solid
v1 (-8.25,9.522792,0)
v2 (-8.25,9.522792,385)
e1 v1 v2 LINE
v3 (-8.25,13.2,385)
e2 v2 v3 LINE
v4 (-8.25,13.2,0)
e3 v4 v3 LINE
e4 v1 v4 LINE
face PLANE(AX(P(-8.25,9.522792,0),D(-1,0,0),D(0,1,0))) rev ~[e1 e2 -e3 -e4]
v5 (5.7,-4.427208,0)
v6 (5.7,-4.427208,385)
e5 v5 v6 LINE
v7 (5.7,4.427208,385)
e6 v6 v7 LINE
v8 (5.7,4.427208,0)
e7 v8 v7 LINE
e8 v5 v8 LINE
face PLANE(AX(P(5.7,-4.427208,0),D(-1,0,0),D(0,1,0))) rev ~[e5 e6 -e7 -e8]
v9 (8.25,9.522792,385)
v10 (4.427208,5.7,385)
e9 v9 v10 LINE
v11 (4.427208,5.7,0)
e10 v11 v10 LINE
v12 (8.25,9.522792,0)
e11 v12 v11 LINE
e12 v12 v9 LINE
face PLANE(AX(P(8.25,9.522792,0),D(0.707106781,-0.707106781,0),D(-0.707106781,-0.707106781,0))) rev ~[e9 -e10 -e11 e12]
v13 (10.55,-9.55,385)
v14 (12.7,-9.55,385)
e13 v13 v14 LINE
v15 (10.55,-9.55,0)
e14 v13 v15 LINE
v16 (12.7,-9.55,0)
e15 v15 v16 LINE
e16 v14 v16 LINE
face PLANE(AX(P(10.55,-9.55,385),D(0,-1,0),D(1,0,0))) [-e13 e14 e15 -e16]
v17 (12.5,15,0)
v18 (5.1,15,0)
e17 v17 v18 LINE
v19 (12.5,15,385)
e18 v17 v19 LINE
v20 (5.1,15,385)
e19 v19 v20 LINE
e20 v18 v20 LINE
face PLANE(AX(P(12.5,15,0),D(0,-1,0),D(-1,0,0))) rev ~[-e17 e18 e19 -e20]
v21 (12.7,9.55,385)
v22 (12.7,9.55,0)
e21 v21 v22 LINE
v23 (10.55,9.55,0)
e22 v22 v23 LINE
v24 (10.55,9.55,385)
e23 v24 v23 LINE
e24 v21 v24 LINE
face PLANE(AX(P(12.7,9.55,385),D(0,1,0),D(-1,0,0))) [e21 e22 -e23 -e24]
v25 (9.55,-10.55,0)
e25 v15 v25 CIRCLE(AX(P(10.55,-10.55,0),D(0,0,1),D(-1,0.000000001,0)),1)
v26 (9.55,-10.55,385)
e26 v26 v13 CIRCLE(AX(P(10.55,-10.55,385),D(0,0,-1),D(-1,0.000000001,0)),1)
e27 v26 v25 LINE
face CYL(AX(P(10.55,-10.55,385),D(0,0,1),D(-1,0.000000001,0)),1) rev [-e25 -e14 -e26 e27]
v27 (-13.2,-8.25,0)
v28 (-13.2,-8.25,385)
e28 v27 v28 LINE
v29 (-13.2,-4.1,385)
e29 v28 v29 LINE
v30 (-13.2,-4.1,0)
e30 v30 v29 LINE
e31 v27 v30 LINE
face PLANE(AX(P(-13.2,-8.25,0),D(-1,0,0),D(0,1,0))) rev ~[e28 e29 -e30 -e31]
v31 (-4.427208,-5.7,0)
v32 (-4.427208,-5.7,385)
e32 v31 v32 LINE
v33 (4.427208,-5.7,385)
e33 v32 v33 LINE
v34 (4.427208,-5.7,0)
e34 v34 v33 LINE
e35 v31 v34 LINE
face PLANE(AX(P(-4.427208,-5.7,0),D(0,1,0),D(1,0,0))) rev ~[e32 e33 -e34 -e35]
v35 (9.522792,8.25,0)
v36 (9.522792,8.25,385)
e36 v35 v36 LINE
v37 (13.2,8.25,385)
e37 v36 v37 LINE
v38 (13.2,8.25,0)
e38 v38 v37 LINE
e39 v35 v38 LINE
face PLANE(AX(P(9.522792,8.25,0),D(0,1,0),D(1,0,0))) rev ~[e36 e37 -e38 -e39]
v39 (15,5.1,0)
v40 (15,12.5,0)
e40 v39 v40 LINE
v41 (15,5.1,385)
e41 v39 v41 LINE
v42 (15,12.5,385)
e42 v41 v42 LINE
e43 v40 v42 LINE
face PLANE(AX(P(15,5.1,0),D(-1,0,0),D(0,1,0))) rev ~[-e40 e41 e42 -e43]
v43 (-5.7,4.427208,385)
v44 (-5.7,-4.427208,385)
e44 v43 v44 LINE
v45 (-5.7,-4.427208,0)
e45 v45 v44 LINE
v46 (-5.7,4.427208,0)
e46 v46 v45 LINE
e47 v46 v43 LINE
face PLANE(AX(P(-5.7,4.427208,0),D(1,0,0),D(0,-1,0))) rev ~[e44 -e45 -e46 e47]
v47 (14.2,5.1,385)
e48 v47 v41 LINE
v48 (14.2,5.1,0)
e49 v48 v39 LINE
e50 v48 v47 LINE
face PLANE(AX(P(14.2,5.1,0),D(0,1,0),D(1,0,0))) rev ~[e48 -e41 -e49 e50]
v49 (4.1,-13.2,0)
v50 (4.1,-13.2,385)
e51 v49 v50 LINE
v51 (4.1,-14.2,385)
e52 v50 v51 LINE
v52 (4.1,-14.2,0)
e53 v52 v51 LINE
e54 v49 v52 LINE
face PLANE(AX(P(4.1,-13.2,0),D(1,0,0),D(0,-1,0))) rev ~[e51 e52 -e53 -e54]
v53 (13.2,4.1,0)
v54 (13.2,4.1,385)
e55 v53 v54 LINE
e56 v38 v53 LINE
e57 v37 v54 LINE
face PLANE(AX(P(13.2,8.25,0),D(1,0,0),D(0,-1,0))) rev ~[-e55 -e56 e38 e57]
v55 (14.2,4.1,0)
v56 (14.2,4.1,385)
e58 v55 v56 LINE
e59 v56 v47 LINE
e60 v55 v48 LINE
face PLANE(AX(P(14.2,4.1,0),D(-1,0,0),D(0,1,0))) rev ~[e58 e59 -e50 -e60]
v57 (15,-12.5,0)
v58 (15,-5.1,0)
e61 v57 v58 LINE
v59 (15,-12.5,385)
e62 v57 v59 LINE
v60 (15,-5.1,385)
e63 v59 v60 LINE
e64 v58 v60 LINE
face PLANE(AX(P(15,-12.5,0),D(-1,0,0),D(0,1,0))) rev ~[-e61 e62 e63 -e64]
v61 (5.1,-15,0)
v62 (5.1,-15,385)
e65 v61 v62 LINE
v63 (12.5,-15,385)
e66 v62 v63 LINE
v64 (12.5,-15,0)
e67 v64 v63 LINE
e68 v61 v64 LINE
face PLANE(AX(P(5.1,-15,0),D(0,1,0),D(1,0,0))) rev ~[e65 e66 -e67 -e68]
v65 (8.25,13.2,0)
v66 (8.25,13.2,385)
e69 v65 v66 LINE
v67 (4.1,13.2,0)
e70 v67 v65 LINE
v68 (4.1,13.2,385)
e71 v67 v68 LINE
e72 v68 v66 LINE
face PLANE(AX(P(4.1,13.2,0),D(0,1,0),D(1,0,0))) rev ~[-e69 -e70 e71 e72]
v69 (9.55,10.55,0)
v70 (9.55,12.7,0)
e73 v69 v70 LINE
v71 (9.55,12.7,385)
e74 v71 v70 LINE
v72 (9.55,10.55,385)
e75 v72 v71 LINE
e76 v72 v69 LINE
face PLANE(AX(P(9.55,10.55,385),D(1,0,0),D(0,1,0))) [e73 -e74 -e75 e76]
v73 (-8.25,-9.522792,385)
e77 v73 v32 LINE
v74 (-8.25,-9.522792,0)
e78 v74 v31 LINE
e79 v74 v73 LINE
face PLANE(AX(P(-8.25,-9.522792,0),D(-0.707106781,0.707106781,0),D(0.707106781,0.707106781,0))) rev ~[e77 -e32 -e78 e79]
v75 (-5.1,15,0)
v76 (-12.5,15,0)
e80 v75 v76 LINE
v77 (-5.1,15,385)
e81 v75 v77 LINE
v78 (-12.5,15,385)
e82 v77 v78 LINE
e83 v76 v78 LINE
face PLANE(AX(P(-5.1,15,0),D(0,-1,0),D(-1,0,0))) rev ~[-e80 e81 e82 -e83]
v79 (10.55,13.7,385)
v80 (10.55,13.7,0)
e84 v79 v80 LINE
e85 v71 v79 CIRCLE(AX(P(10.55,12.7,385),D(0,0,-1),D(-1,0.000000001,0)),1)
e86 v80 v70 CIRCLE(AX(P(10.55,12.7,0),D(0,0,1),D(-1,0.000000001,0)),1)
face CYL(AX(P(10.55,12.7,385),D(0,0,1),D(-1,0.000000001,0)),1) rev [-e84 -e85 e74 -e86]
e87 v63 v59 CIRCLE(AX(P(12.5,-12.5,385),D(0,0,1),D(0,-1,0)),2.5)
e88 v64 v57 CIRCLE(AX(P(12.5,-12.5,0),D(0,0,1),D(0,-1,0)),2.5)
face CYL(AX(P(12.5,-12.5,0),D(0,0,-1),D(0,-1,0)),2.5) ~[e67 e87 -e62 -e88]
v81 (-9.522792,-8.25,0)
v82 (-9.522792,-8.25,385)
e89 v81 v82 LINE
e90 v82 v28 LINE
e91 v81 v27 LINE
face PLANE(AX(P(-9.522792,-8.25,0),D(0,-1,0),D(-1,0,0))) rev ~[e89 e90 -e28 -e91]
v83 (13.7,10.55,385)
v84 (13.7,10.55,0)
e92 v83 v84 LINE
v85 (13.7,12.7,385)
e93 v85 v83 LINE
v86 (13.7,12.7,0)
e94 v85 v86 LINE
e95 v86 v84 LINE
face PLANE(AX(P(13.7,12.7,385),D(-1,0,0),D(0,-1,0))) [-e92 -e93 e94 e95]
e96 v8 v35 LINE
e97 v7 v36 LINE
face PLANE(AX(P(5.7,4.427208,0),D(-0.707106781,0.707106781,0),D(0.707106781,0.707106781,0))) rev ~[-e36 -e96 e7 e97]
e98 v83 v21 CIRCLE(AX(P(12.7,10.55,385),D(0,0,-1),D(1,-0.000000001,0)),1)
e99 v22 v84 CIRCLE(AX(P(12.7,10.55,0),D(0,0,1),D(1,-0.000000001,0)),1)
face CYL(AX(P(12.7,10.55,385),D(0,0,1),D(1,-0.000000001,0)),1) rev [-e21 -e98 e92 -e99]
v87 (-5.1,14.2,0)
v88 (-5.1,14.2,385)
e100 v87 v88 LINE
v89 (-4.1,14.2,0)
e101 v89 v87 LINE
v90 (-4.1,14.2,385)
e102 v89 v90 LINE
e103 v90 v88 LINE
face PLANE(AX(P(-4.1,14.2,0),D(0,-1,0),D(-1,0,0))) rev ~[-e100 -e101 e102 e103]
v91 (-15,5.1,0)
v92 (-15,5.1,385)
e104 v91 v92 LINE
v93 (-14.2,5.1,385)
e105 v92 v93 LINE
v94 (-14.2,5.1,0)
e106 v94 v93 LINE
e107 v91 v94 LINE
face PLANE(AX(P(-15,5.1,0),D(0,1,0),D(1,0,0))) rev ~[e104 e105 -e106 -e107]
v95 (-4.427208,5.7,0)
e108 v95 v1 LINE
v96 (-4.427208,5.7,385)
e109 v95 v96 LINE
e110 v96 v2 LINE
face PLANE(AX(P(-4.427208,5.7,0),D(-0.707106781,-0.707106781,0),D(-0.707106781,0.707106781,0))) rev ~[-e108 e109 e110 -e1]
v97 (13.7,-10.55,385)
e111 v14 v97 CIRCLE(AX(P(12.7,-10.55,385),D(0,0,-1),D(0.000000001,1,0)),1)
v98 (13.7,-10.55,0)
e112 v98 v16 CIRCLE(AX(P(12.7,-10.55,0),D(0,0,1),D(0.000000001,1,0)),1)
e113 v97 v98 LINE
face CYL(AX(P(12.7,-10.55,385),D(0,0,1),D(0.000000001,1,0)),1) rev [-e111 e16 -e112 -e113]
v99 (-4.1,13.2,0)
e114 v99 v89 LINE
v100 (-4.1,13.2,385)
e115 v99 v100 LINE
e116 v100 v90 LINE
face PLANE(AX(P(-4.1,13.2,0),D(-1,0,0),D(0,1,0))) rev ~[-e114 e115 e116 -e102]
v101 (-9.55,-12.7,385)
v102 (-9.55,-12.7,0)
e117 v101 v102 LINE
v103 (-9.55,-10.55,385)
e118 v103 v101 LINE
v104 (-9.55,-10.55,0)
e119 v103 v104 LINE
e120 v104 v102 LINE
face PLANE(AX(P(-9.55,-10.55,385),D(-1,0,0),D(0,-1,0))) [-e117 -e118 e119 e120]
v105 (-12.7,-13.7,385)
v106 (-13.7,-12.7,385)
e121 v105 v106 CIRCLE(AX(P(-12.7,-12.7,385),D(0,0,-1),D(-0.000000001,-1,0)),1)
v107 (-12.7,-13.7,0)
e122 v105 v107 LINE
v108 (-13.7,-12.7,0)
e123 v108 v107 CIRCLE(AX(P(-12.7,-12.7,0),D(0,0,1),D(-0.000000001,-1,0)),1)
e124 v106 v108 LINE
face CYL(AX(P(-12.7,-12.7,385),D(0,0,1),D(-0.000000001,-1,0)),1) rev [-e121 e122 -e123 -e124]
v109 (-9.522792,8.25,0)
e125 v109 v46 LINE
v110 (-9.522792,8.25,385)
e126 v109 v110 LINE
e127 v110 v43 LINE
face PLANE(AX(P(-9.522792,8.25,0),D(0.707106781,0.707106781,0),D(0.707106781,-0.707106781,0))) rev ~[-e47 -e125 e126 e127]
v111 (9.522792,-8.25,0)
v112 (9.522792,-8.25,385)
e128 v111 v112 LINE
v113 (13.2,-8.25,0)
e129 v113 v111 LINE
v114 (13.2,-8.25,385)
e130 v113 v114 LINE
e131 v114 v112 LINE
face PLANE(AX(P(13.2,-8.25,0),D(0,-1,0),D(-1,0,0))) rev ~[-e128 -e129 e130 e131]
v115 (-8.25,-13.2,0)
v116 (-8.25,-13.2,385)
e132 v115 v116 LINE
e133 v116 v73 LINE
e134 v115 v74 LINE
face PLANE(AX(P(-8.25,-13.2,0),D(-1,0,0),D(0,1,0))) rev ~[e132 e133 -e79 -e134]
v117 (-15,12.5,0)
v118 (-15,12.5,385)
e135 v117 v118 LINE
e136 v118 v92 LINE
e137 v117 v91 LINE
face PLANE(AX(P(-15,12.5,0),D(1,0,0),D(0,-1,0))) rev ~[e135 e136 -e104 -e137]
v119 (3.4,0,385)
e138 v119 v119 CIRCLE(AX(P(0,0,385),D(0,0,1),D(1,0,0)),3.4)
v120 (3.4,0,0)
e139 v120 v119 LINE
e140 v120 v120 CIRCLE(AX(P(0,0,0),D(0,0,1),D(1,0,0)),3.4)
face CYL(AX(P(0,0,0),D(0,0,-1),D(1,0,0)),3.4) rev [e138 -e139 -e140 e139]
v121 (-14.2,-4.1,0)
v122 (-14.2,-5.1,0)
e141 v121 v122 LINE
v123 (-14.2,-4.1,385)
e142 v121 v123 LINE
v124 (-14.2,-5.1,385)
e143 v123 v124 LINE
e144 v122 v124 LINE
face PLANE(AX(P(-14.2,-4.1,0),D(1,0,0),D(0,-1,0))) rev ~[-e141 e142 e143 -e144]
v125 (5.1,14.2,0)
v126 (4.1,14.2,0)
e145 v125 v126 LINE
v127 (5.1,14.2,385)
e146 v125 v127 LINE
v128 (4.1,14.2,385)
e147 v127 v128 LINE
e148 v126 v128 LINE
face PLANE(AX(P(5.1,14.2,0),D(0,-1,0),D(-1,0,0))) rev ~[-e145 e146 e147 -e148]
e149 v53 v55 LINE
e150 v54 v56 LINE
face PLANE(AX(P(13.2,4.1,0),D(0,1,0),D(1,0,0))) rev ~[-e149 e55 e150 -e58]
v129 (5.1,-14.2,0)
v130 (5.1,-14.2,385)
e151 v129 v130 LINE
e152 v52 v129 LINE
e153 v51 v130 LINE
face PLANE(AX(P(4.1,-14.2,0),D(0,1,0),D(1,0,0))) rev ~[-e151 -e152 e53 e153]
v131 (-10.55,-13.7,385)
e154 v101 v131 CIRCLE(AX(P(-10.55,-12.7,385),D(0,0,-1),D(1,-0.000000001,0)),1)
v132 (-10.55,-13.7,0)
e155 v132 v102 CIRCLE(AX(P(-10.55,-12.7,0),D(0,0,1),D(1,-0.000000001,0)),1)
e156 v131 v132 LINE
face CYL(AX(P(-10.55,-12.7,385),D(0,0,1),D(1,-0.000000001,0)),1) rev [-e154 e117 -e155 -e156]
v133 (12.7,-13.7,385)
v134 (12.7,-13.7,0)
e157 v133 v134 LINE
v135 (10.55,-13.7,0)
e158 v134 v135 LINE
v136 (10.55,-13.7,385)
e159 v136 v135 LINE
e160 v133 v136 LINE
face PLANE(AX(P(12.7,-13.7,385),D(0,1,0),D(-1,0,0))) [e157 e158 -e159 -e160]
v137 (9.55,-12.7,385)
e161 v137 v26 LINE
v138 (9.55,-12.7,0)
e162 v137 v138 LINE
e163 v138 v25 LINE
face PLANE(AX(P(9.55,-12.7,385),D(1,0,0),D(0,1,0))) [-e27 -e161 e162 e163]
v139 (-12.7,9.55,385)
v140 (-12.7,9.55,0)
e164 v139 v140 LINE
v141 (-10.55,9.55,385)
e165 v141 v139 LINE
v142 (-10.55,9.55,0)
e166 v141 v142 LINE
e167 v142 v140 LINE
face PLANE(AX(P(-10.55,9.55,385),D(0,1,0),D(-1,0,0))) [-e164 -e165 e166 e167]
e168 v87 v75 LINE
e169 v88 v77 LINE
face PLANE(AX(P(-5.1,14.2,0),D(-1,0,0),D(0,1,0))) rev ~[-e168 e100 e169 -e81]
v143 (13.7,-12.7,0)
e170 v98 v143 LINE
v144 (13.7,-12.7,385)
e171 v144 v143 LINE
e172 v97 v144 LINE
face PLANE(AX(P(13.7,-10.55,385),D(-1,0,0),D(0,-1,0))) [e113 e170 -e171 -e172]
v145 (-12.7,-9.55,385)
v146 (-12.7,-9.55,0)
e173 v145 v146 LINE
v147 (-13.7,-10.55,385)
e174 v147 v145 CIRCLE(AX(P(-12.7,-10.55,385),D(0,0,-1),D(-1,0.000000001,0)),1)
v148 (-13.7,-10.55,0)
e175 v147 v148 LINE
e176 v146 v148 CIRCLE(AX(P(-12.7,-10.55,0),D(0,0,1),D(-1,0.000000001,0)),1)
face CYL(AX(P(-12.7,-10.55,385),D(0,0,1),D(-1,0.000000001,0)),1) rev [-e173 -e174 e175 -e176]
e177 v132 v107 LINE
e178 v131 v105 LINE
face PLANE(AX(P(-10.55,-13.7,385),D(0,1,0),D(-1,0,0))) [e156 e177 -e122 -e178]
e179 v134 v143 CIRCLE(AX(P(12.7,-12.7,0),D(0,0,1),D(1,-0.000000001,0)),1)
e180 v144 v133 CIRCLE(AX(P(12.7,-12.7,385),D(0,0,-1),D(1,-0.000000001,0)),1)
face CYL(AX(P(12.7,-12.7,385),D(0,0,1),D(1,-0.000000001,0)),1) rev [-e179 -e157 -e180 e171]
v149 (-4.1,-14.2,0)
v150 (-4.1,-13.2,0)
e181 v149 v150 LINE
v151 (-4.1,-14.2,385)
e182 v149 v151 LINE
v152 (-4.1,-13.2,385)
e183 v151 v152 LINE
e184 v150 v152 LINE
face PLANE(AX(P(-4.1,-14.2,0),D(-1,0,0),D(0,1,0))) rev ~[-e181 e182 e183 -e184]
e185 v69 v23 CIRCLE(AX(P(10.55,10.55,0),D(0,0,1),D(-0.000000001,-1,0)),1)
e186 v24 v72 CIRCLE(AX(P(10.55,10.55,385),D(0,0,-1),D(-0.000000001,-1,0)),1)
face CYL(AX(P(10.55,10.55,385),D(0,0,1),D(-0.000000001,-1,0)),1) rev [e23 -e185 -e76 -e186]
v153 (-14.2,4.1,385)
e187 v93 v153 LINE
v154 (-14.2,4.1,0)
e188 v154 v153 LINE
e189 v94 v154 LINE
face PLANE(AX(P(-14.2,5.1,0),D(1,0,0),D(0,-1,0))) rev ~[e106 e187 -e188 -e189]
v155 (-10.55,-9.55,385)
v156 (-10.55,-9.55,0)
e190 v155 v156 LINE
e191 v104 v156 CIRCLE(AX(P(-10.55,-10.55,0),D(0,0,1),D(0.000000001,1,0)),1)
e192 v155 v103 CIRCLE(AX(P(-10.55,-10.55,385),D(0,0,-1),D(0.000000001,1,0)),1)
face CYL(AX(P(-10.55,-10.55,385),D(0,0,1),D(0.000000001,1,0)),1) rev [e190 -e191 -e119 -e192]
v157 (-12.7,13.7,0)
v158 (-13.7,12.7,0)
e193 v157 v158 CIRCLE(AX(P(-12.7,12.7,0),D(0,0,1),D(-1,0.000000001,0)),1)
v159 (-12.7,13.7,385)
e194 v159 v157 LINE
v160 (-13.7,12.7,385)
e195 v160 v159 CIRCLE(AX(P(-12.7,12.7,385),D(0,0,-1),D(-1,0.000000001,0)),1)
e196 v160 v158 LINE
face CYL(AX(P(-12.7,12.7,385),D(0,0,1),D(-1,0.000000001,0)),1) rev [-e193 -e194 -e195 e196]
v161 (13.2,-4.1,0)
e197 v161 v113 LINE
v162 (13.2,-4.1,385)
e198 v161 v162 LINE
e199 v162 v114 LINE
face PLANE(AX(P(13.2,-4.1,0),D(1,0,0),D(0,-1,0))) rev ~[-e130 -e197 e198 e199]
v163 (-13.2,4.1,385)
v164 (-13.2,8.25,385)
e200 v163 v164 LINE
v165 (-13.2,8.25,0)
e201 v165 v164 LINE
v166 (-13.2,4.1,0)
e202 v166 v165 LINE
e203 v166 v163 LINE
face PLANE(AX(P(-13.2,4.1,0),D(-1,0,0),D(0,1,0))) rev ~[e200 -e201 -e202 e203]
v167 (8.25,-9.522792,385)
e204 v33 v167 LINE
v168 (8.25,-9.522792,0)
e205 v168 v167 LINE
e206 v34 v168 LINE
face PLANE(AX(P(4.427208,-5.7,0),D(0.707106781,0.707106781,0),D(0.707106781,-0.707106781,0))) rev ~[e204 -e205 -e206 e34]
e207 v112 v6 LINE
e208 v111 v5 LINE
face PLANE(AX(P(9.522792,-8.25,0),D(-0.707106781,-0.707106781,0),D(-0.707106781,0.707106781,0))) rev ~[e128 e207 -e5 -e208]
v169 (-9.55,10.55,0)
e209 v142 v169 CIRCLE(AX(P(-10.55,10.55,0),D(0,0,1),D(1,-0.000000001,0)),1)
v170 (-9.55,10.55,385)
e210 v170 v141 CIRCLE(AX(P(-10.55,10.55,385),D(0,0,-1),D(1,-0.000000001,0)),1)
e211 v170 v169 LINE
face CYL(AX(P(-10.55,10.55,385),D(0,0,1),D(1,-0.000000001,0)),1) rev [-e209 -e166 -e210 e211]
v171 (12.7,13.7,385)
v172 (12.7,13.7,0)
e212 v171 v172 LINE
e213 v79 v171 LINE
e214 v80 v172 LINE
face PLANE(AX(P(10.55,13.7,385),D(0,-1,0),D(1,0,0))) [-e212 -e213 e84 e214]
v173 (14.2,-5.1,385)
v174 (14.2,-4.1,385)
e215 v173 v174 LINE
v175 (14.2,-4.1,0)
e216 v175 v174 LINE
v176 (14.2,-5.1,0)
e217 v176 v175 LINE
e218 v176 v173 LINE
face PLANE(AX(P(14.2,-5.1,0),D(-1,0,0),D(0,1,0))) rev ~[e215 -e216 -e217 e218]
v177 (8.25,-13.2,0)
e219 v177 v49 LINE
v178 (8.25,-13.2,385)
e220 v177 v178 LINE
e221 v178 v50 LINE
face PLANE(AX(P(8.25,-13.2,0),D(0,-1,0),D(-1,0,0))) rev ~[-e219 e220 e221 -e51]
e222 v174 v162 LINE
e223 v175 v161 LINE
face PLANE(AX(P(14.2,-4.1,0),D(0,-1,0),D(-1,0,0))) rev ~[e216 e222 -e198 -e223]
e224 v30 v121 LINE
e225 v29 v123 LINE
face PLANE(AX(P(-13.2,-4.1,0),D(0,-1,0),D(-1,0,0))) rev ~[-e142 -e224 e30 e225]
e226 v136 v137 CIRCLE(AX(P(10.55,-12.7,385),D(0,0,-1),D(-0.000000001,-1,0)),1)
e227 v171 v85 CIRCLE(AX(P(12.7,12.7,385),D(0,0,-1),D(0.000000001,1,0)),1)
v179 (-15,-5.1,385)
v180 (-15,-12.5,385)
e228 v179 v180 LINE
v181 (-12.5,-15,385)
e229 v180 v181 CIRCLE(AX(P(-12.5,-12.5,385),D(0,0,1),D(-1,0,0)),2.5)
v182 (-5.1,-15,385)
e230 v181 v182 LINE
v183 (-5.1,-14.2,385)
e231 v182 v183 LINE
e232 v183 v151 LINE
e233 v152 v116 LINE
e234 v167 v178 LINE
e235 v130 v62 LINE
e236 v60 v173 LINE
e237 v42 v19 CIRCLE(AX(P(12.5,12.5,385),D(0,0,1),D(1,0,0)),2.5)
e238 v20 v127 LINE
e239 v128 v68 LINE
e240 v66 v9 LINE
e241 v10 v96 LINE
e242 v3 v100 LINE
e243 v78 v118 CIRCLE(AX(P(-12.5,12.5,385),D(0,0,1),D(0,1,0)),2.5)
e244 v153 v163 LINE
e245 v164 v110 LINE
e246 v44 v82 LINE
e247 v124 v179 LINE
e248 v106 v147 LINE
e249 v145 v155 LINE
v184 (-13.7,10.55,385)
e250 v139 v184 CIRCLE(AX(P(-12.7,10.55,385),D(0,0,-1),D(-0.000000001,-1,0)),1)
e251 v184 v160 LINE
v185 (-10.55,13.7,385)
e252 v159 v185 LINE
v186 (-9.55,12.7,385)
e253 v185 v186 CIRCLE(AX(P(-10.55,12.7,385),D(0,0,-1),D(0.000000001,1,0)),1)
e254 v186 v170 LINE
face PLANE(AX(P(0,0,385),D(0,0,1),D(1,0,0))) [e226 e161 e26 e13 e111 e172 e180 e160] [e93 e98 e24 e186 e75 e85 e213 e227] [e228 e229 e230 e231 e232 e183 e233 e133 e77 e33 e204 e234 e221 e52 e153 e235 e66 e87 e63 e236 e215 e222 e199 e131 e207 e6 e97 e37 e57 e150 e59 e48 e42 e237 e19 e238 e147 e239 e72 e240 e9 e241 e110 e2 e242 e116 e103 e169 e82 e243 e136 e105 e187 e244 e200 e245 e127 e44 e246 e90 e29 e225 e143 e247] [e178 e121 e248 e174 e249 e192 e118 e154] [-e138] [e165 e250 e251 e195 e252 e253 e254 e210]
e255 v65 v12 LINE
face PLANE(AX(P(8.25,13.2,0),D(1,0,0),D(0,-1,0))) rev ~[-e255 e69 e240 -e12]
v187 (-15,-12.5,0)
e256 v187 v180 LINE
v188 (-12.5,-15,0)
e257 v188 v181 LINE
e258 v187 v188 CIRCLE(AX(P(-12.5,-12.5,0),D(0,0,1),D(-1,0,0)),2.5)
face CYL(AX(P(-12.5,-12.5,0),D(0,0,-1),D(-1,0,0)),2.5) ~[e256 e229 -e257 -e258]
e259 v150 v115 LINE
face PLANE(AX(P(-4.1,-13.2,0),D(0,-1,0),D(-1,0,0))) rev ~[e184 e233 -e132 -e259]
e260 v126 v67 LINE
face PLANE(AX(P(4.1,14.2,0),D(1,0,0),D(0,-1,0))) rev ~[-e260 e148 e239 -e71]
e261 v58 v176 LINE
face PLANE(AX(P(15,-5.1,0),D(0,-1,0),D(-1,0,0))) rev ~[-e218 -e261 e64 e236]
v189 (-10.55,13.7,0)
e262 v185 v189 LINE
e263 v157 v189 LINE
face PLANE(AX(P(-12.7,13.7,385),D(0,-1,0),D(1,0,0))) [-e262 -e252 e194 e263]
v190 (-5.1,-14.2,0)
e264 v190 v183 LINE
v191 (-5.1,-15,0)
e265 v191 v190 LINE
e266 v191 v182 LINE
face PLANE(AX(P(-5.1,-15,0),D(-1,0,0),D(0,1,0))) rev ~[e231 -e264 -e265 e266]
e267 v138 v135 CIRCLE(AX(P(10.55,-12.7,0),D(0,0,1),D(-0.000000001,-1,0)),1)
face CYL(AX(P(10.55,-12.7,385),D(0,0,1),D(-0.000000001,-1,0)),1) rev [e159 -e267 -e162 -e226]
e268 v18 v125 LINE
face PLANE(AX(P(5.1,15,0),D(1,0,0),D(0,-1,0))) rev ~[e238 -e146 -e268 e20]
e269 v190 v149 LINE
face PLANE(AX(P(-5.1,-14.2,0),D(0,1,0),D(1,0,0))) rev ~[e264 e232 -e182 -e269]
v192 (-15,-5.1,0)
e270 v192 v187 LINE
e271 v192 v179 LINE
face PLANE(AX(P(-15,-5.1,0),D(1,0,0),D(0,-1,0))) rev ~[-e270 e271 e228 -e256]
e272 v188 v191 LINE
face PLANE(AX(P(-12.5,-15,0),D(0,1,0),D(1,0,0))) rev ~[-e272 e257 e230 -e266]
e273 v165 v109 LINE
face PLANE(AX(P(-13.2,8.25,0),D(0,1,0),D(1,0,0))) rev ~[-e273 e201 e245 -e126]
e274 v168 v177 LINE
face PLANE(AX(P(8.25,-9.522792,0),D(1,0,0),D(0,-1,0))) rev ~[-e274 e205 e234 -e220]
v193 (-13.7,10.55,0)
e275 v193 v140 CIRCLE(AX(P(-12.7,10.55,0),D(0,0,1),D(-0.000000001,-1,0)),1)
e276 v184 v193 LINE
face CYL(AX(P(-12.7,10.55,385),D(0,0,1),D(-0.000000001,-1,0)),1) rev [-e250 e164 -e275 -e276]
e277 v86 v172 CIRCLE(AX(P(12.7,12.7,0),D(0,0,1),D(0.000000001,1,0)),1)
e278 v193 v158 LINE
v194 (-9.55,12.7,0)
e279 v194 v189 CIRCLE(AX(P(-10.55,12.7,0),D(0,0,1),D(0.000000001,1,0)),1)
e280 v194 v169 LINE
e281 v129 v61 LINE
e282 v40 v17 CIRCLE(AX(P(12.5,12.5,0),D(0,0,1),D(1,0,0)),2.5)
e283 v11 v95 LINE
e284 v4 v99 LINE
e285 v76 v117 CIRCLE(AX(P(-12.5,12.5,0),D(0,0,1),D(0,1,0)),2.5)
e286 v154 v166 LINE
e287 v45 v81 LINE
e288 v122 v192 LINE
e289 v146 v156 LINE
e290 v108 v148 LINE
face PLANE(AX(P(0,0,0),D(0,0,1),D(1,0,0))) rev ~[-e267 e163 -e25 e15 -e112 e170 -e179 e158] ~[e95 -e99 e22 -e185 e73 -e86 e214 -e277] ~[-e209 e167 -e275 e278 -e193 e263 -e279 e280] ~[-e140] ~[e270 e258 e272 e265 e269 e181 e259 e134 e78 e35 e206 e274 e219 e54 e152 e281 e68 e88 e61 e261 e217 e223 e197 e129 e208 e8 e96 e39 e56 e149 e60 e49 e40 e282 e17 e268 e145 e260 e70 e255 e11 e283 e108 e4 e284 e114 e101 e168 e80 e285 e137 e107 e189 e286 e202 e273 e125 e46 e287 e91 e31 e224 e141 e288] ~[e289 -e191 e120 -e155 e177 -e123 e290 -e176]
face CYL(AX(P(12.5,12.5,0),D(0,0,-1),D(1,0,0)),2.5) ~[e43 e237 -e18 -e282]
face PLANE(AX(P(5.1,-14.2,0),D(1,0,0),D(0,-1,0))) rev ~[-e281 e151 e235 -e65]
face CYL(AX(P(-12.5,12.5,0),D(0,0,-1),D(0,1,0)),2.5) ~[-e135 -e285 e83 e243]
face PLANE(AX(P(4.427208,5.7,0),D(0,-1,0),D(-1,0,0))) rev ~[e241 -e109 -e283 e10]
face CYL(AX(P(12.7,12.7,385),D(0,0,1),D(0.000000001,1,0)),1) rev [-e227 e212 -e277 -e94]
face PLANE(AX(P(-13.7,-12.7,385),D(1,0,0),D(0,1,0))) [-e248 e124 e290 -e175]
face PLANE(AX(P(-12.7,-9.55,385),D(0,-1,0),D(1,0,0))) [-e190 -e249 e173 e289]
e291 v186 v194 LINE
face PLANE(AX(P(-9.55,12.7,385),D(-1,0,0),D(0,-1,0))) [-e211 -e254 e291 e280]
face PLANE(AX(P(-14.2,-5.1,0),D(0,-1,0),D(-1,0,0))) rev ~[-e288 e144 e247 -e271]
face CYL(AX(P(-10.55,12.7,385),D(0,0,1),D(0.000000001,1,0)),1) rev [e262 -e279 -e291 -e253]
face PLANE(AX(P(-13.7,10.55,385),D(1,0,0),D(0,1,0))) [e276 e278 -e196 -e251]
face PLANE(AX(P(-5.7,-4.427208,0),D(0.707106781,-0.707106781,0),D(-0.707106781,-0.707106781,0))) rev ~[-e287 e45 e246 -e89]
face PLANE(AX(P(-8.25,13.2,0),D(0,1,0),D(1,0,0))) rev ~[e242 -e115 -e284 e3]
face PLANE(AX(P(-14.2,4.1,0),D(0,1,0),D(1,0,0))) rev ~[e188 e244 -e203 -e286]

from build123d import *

# Parameters (mm, degrees)
SKETCH1_R      = 3.4
EXTRUDE1_DEPTH = 385
EXTRUDE2_DEPTH = 386.583972696


with BuildPart() as part:
    # Sketch1 → Extrude1 (new body)
    with BuildSketch(Plane.XY):
        with BuildLine():
            Line((-5.1, 14.2), (-5.1, 15))
            Line((-5.1, 15), (-12.5, 15))
            ThreePointArc((-12.5, 15), (-14.267766953, 14.267766953), (-15, 12.5))
            Line((-15, 12.5), (-15, 5.1))
            Line((-15, 5.1), (-14.2, 5.1))
            Line((-14.2, 5.1), (-14.2, 4.1))
            Line((-14.2, 4.1), (-13.2, 4.1))
            Line((-13.2, 4.1), (-13.2, 8.25))
            Line((-13.2, 8.25), (-9.522792206, 8.25))
            Line((-9.522792206, 8.25), (-5.7, 4.427207794))
            Line((-5.7, 4.427207794), (-5.7, -4.427207794))
            Line((-5.7, -4.427207794), (-9.522792206, -8.25))
            Line((-9.522792206, -8.25), (-13.2, -8.25))
            Line((-13.2, -8.25), (-13.2, -4.1))
            Line((-13.2, -4.1), (-14.2, -4.1))
            Line((-14.2, -4.1), (-14.2, -5.1))
            Line((-14.2, -5.1), (-15, -5.1))
            Line((-15, -5.1), (-15, -12.5))
            ThreePointArc((-15, -12.5), (-14.267766953, -14.267766953), (-12.5, -15))
            Line((-12.5, -15), (-5.1, -15))
            Line((-5.1, -15), (-5.1, -14.2))
            Line((-5.1, -14.2), (-4.1, -14.2))
            Line((-4.1, -14.2), (-4.1, -13.2))
            Line((-4.1, -13.2), (-8.25, -13.2))
            Line((-8.25, -13.2), (-8.25, -9.522792206))
            Line((-8.25, -9.522792206), (-4.427207794, -5.7))
            Line((-4.427207794, -5.7), (4.427207794, -5.7))
            Line((4.427207794, -5.7), (8.25, -9.522792206))
            Line((8.25, -9.522792206), (8.25, -13.2))
            Line((8.25, -13.2), (4.1, -13.2))
            Line((4.1, -13.2), (4.1, -14.2))
            Line((4.1, -14.2), (5.1, -14.2))
            Line((5.1, -14.2), (5.1, -15))
            Line((5.1, -15), (12.5, -15))
            ThreePointArc((12.5, -15), (14.267766953, -14.267766953), (15, -12.5))
            Line((15, -12.5), (15, -5.1))
            Line((15, -5.1), (14.2, -5.1))
            Line((14.2, -5.1), (14.2, -4.1))
            Line((14.2, -4.1), (13.2, -4.1))
            Line((13.2, -4.1), (13.2, -8.25))
            Line((13.2, -8.25), (9.522792206, -8.25))
            Line((9.522792206, -8.25), (5.7, -4.427207794))
            Line((5.7, -4.427207794), (5.7, 4.427207794))
            Line((5.7, 4.427207794), (9.522792206, 8.25))
            Line((9.522792206, 8.25), (13.2, 8.25))
            Line((13.2, 8.25), (13.2, 4.1))
            Line((13.2, 4.1), (14.2, 4.1))
            Line((14.2, 4.1), (14.2, 5.1))
            Line((14.2, 5.1), (15, 5.1))
            Line((15, 5.1), (15, 12.5))
            ThreePointArc((15, 12.5), (14.267766953, 14.267766953), (12.5, 15))
            Line((12.5, 15), (5.1, 15))
            Line((5.1, 15), (5.1, 14.2))
            Line((5.1, 14.2), (4.1, 14.2))
            Line((4.1, 14.2), (4.1, 13.2))
            Line((4.1, 13.2), (8.25, 13.2))
            Line((8.25, 13.2), (8.25, 9.522792206))
            Line((8.25, 9.522792206), (4.427207794, 5.7))
            Line((4.427207794, 5.7), (-4.427207794, 5.7))
            Line((-4.427207794, 5.7), (-8.25, 9.522792206))
            Line((-8.25, 9.522792206), (-8.25, 13.2))
            Line((-8.25, 13.2), (-4.1, 13.2))
            Line((-4.1, 13.2), (-4.1, 14.2))
            Line((-4.1, 14.2), (-5.1, 14.2))
        make_face()
        Circle(SKETCH1_R, mode=Mode.SUBTRACT)
    extrude(amount=EXTRUDE1_DEPTH)

    # Sketch2 → Extrude2 (cut, through all)
    with BuildSketch(Plane.XY.offset(385)):
        with BuildLine():
            Line((13.7, 12.7), (13.7, 10.55))
            ThreePointArc((13.7, 10.55), (13.407106781, 9.842893219), (12.7, 9.55))
            Line((12.7, 9.55), (10.55, 9.55))
            ThreePointArc((10.55, 9.55), (9.842893219, 9.842893219), (9.55, 10.55))
            Line((9.55, 10.55), (9.55, 12.7))
            ThreePointArc((9.55, 12.7), (9.842893219, 13.407106781), (10.55, 13.7))
            Line((10.55, 13.7), (12.7, 13.7))
            ThreePointArc((12.7, 13.7), (13.407106781, 13.407106781), (13.7, 12.7))
        make_face()
        with BuildLine():
            Line((-12.7, 13.7), (-10.55, 13.7))
            ThreePointArc((-10.55, 13.7), (-9.842893219, 13.407106781), (-9.55, 12.7))
            Line((-9.55, 12.7), (-9.55, 10.55))
            ThreePointArc((-9.55, 10.55), (-9.842893219, 9.842893219), (-10.55, 9.55))
            Line((-10.55, 9.55), (-12.7, 9.55))
            ThreePointArc((-12.7, 9.55), (-13.407106781, 9.842893219), (-13.7, 10.55))
            Line((-13.7, 10.55), (-13.7, 12.7))
            ThreePointArc((-13.7, 12.7), (-13.407106781, 13.407106781), (-12.7, 13.7))
        make_face()
        with BuildLine():
            Line((12.7, -13.7), (10.55, -13.7))
            ThreePointArc((10.55, -13.7), (9.842893219, -13.407106781), (9.55, -12.7))
            Line((9.55, -12.7), (9.55, -10.55))
            ThreePointArc((9.55, -10.55), (9.842893219, -9.842893219), (10.55, -9.55))
            Line((10.55, -9.55), (12.7, -9.55))
            ThreePointArc((12.7, -9.55), (13.407106781, -9.842893219), (13.7, -10.55))
            Line((13.7, -10.55), (13.7, -12.7))
            ThreePointArc((13.7, -12.7), (13.407106781, -13.407106781), (12.7, -13.7))
        make_face()
        with BuildLine():
            Line((-13.7, -12.7), (-13.7, -10.55))
            ThreePointArc((-13.7, -10.55), (-13.407106781, -9.842893219), (-12.7, -9.55))
            Line((-12.7, -9.55), (-10.55, -9.55))
            ThreePointArc((-10.55, -9.55), (-9.842893219, -9.842893219), (-9.55, -10.55))
            Line((-9.55, -10.55), (-9.55, -12.7))
            ThreePointArc((-9.55, -12.7), (-9.842893219, -13.407106781), (-10.55, -13.7))
            Line((-10.55, -13.7), (-12.7, -13.7))
            ThreePointArc((-12.7, -13.7), (-13.407106781, -13.407106781), (-13.7, -12.7))
        make_face()
    extrude(amount=-EXTRUDE2_DEPTH, mode=Mode.SUBTRACT)


solid = part.part
